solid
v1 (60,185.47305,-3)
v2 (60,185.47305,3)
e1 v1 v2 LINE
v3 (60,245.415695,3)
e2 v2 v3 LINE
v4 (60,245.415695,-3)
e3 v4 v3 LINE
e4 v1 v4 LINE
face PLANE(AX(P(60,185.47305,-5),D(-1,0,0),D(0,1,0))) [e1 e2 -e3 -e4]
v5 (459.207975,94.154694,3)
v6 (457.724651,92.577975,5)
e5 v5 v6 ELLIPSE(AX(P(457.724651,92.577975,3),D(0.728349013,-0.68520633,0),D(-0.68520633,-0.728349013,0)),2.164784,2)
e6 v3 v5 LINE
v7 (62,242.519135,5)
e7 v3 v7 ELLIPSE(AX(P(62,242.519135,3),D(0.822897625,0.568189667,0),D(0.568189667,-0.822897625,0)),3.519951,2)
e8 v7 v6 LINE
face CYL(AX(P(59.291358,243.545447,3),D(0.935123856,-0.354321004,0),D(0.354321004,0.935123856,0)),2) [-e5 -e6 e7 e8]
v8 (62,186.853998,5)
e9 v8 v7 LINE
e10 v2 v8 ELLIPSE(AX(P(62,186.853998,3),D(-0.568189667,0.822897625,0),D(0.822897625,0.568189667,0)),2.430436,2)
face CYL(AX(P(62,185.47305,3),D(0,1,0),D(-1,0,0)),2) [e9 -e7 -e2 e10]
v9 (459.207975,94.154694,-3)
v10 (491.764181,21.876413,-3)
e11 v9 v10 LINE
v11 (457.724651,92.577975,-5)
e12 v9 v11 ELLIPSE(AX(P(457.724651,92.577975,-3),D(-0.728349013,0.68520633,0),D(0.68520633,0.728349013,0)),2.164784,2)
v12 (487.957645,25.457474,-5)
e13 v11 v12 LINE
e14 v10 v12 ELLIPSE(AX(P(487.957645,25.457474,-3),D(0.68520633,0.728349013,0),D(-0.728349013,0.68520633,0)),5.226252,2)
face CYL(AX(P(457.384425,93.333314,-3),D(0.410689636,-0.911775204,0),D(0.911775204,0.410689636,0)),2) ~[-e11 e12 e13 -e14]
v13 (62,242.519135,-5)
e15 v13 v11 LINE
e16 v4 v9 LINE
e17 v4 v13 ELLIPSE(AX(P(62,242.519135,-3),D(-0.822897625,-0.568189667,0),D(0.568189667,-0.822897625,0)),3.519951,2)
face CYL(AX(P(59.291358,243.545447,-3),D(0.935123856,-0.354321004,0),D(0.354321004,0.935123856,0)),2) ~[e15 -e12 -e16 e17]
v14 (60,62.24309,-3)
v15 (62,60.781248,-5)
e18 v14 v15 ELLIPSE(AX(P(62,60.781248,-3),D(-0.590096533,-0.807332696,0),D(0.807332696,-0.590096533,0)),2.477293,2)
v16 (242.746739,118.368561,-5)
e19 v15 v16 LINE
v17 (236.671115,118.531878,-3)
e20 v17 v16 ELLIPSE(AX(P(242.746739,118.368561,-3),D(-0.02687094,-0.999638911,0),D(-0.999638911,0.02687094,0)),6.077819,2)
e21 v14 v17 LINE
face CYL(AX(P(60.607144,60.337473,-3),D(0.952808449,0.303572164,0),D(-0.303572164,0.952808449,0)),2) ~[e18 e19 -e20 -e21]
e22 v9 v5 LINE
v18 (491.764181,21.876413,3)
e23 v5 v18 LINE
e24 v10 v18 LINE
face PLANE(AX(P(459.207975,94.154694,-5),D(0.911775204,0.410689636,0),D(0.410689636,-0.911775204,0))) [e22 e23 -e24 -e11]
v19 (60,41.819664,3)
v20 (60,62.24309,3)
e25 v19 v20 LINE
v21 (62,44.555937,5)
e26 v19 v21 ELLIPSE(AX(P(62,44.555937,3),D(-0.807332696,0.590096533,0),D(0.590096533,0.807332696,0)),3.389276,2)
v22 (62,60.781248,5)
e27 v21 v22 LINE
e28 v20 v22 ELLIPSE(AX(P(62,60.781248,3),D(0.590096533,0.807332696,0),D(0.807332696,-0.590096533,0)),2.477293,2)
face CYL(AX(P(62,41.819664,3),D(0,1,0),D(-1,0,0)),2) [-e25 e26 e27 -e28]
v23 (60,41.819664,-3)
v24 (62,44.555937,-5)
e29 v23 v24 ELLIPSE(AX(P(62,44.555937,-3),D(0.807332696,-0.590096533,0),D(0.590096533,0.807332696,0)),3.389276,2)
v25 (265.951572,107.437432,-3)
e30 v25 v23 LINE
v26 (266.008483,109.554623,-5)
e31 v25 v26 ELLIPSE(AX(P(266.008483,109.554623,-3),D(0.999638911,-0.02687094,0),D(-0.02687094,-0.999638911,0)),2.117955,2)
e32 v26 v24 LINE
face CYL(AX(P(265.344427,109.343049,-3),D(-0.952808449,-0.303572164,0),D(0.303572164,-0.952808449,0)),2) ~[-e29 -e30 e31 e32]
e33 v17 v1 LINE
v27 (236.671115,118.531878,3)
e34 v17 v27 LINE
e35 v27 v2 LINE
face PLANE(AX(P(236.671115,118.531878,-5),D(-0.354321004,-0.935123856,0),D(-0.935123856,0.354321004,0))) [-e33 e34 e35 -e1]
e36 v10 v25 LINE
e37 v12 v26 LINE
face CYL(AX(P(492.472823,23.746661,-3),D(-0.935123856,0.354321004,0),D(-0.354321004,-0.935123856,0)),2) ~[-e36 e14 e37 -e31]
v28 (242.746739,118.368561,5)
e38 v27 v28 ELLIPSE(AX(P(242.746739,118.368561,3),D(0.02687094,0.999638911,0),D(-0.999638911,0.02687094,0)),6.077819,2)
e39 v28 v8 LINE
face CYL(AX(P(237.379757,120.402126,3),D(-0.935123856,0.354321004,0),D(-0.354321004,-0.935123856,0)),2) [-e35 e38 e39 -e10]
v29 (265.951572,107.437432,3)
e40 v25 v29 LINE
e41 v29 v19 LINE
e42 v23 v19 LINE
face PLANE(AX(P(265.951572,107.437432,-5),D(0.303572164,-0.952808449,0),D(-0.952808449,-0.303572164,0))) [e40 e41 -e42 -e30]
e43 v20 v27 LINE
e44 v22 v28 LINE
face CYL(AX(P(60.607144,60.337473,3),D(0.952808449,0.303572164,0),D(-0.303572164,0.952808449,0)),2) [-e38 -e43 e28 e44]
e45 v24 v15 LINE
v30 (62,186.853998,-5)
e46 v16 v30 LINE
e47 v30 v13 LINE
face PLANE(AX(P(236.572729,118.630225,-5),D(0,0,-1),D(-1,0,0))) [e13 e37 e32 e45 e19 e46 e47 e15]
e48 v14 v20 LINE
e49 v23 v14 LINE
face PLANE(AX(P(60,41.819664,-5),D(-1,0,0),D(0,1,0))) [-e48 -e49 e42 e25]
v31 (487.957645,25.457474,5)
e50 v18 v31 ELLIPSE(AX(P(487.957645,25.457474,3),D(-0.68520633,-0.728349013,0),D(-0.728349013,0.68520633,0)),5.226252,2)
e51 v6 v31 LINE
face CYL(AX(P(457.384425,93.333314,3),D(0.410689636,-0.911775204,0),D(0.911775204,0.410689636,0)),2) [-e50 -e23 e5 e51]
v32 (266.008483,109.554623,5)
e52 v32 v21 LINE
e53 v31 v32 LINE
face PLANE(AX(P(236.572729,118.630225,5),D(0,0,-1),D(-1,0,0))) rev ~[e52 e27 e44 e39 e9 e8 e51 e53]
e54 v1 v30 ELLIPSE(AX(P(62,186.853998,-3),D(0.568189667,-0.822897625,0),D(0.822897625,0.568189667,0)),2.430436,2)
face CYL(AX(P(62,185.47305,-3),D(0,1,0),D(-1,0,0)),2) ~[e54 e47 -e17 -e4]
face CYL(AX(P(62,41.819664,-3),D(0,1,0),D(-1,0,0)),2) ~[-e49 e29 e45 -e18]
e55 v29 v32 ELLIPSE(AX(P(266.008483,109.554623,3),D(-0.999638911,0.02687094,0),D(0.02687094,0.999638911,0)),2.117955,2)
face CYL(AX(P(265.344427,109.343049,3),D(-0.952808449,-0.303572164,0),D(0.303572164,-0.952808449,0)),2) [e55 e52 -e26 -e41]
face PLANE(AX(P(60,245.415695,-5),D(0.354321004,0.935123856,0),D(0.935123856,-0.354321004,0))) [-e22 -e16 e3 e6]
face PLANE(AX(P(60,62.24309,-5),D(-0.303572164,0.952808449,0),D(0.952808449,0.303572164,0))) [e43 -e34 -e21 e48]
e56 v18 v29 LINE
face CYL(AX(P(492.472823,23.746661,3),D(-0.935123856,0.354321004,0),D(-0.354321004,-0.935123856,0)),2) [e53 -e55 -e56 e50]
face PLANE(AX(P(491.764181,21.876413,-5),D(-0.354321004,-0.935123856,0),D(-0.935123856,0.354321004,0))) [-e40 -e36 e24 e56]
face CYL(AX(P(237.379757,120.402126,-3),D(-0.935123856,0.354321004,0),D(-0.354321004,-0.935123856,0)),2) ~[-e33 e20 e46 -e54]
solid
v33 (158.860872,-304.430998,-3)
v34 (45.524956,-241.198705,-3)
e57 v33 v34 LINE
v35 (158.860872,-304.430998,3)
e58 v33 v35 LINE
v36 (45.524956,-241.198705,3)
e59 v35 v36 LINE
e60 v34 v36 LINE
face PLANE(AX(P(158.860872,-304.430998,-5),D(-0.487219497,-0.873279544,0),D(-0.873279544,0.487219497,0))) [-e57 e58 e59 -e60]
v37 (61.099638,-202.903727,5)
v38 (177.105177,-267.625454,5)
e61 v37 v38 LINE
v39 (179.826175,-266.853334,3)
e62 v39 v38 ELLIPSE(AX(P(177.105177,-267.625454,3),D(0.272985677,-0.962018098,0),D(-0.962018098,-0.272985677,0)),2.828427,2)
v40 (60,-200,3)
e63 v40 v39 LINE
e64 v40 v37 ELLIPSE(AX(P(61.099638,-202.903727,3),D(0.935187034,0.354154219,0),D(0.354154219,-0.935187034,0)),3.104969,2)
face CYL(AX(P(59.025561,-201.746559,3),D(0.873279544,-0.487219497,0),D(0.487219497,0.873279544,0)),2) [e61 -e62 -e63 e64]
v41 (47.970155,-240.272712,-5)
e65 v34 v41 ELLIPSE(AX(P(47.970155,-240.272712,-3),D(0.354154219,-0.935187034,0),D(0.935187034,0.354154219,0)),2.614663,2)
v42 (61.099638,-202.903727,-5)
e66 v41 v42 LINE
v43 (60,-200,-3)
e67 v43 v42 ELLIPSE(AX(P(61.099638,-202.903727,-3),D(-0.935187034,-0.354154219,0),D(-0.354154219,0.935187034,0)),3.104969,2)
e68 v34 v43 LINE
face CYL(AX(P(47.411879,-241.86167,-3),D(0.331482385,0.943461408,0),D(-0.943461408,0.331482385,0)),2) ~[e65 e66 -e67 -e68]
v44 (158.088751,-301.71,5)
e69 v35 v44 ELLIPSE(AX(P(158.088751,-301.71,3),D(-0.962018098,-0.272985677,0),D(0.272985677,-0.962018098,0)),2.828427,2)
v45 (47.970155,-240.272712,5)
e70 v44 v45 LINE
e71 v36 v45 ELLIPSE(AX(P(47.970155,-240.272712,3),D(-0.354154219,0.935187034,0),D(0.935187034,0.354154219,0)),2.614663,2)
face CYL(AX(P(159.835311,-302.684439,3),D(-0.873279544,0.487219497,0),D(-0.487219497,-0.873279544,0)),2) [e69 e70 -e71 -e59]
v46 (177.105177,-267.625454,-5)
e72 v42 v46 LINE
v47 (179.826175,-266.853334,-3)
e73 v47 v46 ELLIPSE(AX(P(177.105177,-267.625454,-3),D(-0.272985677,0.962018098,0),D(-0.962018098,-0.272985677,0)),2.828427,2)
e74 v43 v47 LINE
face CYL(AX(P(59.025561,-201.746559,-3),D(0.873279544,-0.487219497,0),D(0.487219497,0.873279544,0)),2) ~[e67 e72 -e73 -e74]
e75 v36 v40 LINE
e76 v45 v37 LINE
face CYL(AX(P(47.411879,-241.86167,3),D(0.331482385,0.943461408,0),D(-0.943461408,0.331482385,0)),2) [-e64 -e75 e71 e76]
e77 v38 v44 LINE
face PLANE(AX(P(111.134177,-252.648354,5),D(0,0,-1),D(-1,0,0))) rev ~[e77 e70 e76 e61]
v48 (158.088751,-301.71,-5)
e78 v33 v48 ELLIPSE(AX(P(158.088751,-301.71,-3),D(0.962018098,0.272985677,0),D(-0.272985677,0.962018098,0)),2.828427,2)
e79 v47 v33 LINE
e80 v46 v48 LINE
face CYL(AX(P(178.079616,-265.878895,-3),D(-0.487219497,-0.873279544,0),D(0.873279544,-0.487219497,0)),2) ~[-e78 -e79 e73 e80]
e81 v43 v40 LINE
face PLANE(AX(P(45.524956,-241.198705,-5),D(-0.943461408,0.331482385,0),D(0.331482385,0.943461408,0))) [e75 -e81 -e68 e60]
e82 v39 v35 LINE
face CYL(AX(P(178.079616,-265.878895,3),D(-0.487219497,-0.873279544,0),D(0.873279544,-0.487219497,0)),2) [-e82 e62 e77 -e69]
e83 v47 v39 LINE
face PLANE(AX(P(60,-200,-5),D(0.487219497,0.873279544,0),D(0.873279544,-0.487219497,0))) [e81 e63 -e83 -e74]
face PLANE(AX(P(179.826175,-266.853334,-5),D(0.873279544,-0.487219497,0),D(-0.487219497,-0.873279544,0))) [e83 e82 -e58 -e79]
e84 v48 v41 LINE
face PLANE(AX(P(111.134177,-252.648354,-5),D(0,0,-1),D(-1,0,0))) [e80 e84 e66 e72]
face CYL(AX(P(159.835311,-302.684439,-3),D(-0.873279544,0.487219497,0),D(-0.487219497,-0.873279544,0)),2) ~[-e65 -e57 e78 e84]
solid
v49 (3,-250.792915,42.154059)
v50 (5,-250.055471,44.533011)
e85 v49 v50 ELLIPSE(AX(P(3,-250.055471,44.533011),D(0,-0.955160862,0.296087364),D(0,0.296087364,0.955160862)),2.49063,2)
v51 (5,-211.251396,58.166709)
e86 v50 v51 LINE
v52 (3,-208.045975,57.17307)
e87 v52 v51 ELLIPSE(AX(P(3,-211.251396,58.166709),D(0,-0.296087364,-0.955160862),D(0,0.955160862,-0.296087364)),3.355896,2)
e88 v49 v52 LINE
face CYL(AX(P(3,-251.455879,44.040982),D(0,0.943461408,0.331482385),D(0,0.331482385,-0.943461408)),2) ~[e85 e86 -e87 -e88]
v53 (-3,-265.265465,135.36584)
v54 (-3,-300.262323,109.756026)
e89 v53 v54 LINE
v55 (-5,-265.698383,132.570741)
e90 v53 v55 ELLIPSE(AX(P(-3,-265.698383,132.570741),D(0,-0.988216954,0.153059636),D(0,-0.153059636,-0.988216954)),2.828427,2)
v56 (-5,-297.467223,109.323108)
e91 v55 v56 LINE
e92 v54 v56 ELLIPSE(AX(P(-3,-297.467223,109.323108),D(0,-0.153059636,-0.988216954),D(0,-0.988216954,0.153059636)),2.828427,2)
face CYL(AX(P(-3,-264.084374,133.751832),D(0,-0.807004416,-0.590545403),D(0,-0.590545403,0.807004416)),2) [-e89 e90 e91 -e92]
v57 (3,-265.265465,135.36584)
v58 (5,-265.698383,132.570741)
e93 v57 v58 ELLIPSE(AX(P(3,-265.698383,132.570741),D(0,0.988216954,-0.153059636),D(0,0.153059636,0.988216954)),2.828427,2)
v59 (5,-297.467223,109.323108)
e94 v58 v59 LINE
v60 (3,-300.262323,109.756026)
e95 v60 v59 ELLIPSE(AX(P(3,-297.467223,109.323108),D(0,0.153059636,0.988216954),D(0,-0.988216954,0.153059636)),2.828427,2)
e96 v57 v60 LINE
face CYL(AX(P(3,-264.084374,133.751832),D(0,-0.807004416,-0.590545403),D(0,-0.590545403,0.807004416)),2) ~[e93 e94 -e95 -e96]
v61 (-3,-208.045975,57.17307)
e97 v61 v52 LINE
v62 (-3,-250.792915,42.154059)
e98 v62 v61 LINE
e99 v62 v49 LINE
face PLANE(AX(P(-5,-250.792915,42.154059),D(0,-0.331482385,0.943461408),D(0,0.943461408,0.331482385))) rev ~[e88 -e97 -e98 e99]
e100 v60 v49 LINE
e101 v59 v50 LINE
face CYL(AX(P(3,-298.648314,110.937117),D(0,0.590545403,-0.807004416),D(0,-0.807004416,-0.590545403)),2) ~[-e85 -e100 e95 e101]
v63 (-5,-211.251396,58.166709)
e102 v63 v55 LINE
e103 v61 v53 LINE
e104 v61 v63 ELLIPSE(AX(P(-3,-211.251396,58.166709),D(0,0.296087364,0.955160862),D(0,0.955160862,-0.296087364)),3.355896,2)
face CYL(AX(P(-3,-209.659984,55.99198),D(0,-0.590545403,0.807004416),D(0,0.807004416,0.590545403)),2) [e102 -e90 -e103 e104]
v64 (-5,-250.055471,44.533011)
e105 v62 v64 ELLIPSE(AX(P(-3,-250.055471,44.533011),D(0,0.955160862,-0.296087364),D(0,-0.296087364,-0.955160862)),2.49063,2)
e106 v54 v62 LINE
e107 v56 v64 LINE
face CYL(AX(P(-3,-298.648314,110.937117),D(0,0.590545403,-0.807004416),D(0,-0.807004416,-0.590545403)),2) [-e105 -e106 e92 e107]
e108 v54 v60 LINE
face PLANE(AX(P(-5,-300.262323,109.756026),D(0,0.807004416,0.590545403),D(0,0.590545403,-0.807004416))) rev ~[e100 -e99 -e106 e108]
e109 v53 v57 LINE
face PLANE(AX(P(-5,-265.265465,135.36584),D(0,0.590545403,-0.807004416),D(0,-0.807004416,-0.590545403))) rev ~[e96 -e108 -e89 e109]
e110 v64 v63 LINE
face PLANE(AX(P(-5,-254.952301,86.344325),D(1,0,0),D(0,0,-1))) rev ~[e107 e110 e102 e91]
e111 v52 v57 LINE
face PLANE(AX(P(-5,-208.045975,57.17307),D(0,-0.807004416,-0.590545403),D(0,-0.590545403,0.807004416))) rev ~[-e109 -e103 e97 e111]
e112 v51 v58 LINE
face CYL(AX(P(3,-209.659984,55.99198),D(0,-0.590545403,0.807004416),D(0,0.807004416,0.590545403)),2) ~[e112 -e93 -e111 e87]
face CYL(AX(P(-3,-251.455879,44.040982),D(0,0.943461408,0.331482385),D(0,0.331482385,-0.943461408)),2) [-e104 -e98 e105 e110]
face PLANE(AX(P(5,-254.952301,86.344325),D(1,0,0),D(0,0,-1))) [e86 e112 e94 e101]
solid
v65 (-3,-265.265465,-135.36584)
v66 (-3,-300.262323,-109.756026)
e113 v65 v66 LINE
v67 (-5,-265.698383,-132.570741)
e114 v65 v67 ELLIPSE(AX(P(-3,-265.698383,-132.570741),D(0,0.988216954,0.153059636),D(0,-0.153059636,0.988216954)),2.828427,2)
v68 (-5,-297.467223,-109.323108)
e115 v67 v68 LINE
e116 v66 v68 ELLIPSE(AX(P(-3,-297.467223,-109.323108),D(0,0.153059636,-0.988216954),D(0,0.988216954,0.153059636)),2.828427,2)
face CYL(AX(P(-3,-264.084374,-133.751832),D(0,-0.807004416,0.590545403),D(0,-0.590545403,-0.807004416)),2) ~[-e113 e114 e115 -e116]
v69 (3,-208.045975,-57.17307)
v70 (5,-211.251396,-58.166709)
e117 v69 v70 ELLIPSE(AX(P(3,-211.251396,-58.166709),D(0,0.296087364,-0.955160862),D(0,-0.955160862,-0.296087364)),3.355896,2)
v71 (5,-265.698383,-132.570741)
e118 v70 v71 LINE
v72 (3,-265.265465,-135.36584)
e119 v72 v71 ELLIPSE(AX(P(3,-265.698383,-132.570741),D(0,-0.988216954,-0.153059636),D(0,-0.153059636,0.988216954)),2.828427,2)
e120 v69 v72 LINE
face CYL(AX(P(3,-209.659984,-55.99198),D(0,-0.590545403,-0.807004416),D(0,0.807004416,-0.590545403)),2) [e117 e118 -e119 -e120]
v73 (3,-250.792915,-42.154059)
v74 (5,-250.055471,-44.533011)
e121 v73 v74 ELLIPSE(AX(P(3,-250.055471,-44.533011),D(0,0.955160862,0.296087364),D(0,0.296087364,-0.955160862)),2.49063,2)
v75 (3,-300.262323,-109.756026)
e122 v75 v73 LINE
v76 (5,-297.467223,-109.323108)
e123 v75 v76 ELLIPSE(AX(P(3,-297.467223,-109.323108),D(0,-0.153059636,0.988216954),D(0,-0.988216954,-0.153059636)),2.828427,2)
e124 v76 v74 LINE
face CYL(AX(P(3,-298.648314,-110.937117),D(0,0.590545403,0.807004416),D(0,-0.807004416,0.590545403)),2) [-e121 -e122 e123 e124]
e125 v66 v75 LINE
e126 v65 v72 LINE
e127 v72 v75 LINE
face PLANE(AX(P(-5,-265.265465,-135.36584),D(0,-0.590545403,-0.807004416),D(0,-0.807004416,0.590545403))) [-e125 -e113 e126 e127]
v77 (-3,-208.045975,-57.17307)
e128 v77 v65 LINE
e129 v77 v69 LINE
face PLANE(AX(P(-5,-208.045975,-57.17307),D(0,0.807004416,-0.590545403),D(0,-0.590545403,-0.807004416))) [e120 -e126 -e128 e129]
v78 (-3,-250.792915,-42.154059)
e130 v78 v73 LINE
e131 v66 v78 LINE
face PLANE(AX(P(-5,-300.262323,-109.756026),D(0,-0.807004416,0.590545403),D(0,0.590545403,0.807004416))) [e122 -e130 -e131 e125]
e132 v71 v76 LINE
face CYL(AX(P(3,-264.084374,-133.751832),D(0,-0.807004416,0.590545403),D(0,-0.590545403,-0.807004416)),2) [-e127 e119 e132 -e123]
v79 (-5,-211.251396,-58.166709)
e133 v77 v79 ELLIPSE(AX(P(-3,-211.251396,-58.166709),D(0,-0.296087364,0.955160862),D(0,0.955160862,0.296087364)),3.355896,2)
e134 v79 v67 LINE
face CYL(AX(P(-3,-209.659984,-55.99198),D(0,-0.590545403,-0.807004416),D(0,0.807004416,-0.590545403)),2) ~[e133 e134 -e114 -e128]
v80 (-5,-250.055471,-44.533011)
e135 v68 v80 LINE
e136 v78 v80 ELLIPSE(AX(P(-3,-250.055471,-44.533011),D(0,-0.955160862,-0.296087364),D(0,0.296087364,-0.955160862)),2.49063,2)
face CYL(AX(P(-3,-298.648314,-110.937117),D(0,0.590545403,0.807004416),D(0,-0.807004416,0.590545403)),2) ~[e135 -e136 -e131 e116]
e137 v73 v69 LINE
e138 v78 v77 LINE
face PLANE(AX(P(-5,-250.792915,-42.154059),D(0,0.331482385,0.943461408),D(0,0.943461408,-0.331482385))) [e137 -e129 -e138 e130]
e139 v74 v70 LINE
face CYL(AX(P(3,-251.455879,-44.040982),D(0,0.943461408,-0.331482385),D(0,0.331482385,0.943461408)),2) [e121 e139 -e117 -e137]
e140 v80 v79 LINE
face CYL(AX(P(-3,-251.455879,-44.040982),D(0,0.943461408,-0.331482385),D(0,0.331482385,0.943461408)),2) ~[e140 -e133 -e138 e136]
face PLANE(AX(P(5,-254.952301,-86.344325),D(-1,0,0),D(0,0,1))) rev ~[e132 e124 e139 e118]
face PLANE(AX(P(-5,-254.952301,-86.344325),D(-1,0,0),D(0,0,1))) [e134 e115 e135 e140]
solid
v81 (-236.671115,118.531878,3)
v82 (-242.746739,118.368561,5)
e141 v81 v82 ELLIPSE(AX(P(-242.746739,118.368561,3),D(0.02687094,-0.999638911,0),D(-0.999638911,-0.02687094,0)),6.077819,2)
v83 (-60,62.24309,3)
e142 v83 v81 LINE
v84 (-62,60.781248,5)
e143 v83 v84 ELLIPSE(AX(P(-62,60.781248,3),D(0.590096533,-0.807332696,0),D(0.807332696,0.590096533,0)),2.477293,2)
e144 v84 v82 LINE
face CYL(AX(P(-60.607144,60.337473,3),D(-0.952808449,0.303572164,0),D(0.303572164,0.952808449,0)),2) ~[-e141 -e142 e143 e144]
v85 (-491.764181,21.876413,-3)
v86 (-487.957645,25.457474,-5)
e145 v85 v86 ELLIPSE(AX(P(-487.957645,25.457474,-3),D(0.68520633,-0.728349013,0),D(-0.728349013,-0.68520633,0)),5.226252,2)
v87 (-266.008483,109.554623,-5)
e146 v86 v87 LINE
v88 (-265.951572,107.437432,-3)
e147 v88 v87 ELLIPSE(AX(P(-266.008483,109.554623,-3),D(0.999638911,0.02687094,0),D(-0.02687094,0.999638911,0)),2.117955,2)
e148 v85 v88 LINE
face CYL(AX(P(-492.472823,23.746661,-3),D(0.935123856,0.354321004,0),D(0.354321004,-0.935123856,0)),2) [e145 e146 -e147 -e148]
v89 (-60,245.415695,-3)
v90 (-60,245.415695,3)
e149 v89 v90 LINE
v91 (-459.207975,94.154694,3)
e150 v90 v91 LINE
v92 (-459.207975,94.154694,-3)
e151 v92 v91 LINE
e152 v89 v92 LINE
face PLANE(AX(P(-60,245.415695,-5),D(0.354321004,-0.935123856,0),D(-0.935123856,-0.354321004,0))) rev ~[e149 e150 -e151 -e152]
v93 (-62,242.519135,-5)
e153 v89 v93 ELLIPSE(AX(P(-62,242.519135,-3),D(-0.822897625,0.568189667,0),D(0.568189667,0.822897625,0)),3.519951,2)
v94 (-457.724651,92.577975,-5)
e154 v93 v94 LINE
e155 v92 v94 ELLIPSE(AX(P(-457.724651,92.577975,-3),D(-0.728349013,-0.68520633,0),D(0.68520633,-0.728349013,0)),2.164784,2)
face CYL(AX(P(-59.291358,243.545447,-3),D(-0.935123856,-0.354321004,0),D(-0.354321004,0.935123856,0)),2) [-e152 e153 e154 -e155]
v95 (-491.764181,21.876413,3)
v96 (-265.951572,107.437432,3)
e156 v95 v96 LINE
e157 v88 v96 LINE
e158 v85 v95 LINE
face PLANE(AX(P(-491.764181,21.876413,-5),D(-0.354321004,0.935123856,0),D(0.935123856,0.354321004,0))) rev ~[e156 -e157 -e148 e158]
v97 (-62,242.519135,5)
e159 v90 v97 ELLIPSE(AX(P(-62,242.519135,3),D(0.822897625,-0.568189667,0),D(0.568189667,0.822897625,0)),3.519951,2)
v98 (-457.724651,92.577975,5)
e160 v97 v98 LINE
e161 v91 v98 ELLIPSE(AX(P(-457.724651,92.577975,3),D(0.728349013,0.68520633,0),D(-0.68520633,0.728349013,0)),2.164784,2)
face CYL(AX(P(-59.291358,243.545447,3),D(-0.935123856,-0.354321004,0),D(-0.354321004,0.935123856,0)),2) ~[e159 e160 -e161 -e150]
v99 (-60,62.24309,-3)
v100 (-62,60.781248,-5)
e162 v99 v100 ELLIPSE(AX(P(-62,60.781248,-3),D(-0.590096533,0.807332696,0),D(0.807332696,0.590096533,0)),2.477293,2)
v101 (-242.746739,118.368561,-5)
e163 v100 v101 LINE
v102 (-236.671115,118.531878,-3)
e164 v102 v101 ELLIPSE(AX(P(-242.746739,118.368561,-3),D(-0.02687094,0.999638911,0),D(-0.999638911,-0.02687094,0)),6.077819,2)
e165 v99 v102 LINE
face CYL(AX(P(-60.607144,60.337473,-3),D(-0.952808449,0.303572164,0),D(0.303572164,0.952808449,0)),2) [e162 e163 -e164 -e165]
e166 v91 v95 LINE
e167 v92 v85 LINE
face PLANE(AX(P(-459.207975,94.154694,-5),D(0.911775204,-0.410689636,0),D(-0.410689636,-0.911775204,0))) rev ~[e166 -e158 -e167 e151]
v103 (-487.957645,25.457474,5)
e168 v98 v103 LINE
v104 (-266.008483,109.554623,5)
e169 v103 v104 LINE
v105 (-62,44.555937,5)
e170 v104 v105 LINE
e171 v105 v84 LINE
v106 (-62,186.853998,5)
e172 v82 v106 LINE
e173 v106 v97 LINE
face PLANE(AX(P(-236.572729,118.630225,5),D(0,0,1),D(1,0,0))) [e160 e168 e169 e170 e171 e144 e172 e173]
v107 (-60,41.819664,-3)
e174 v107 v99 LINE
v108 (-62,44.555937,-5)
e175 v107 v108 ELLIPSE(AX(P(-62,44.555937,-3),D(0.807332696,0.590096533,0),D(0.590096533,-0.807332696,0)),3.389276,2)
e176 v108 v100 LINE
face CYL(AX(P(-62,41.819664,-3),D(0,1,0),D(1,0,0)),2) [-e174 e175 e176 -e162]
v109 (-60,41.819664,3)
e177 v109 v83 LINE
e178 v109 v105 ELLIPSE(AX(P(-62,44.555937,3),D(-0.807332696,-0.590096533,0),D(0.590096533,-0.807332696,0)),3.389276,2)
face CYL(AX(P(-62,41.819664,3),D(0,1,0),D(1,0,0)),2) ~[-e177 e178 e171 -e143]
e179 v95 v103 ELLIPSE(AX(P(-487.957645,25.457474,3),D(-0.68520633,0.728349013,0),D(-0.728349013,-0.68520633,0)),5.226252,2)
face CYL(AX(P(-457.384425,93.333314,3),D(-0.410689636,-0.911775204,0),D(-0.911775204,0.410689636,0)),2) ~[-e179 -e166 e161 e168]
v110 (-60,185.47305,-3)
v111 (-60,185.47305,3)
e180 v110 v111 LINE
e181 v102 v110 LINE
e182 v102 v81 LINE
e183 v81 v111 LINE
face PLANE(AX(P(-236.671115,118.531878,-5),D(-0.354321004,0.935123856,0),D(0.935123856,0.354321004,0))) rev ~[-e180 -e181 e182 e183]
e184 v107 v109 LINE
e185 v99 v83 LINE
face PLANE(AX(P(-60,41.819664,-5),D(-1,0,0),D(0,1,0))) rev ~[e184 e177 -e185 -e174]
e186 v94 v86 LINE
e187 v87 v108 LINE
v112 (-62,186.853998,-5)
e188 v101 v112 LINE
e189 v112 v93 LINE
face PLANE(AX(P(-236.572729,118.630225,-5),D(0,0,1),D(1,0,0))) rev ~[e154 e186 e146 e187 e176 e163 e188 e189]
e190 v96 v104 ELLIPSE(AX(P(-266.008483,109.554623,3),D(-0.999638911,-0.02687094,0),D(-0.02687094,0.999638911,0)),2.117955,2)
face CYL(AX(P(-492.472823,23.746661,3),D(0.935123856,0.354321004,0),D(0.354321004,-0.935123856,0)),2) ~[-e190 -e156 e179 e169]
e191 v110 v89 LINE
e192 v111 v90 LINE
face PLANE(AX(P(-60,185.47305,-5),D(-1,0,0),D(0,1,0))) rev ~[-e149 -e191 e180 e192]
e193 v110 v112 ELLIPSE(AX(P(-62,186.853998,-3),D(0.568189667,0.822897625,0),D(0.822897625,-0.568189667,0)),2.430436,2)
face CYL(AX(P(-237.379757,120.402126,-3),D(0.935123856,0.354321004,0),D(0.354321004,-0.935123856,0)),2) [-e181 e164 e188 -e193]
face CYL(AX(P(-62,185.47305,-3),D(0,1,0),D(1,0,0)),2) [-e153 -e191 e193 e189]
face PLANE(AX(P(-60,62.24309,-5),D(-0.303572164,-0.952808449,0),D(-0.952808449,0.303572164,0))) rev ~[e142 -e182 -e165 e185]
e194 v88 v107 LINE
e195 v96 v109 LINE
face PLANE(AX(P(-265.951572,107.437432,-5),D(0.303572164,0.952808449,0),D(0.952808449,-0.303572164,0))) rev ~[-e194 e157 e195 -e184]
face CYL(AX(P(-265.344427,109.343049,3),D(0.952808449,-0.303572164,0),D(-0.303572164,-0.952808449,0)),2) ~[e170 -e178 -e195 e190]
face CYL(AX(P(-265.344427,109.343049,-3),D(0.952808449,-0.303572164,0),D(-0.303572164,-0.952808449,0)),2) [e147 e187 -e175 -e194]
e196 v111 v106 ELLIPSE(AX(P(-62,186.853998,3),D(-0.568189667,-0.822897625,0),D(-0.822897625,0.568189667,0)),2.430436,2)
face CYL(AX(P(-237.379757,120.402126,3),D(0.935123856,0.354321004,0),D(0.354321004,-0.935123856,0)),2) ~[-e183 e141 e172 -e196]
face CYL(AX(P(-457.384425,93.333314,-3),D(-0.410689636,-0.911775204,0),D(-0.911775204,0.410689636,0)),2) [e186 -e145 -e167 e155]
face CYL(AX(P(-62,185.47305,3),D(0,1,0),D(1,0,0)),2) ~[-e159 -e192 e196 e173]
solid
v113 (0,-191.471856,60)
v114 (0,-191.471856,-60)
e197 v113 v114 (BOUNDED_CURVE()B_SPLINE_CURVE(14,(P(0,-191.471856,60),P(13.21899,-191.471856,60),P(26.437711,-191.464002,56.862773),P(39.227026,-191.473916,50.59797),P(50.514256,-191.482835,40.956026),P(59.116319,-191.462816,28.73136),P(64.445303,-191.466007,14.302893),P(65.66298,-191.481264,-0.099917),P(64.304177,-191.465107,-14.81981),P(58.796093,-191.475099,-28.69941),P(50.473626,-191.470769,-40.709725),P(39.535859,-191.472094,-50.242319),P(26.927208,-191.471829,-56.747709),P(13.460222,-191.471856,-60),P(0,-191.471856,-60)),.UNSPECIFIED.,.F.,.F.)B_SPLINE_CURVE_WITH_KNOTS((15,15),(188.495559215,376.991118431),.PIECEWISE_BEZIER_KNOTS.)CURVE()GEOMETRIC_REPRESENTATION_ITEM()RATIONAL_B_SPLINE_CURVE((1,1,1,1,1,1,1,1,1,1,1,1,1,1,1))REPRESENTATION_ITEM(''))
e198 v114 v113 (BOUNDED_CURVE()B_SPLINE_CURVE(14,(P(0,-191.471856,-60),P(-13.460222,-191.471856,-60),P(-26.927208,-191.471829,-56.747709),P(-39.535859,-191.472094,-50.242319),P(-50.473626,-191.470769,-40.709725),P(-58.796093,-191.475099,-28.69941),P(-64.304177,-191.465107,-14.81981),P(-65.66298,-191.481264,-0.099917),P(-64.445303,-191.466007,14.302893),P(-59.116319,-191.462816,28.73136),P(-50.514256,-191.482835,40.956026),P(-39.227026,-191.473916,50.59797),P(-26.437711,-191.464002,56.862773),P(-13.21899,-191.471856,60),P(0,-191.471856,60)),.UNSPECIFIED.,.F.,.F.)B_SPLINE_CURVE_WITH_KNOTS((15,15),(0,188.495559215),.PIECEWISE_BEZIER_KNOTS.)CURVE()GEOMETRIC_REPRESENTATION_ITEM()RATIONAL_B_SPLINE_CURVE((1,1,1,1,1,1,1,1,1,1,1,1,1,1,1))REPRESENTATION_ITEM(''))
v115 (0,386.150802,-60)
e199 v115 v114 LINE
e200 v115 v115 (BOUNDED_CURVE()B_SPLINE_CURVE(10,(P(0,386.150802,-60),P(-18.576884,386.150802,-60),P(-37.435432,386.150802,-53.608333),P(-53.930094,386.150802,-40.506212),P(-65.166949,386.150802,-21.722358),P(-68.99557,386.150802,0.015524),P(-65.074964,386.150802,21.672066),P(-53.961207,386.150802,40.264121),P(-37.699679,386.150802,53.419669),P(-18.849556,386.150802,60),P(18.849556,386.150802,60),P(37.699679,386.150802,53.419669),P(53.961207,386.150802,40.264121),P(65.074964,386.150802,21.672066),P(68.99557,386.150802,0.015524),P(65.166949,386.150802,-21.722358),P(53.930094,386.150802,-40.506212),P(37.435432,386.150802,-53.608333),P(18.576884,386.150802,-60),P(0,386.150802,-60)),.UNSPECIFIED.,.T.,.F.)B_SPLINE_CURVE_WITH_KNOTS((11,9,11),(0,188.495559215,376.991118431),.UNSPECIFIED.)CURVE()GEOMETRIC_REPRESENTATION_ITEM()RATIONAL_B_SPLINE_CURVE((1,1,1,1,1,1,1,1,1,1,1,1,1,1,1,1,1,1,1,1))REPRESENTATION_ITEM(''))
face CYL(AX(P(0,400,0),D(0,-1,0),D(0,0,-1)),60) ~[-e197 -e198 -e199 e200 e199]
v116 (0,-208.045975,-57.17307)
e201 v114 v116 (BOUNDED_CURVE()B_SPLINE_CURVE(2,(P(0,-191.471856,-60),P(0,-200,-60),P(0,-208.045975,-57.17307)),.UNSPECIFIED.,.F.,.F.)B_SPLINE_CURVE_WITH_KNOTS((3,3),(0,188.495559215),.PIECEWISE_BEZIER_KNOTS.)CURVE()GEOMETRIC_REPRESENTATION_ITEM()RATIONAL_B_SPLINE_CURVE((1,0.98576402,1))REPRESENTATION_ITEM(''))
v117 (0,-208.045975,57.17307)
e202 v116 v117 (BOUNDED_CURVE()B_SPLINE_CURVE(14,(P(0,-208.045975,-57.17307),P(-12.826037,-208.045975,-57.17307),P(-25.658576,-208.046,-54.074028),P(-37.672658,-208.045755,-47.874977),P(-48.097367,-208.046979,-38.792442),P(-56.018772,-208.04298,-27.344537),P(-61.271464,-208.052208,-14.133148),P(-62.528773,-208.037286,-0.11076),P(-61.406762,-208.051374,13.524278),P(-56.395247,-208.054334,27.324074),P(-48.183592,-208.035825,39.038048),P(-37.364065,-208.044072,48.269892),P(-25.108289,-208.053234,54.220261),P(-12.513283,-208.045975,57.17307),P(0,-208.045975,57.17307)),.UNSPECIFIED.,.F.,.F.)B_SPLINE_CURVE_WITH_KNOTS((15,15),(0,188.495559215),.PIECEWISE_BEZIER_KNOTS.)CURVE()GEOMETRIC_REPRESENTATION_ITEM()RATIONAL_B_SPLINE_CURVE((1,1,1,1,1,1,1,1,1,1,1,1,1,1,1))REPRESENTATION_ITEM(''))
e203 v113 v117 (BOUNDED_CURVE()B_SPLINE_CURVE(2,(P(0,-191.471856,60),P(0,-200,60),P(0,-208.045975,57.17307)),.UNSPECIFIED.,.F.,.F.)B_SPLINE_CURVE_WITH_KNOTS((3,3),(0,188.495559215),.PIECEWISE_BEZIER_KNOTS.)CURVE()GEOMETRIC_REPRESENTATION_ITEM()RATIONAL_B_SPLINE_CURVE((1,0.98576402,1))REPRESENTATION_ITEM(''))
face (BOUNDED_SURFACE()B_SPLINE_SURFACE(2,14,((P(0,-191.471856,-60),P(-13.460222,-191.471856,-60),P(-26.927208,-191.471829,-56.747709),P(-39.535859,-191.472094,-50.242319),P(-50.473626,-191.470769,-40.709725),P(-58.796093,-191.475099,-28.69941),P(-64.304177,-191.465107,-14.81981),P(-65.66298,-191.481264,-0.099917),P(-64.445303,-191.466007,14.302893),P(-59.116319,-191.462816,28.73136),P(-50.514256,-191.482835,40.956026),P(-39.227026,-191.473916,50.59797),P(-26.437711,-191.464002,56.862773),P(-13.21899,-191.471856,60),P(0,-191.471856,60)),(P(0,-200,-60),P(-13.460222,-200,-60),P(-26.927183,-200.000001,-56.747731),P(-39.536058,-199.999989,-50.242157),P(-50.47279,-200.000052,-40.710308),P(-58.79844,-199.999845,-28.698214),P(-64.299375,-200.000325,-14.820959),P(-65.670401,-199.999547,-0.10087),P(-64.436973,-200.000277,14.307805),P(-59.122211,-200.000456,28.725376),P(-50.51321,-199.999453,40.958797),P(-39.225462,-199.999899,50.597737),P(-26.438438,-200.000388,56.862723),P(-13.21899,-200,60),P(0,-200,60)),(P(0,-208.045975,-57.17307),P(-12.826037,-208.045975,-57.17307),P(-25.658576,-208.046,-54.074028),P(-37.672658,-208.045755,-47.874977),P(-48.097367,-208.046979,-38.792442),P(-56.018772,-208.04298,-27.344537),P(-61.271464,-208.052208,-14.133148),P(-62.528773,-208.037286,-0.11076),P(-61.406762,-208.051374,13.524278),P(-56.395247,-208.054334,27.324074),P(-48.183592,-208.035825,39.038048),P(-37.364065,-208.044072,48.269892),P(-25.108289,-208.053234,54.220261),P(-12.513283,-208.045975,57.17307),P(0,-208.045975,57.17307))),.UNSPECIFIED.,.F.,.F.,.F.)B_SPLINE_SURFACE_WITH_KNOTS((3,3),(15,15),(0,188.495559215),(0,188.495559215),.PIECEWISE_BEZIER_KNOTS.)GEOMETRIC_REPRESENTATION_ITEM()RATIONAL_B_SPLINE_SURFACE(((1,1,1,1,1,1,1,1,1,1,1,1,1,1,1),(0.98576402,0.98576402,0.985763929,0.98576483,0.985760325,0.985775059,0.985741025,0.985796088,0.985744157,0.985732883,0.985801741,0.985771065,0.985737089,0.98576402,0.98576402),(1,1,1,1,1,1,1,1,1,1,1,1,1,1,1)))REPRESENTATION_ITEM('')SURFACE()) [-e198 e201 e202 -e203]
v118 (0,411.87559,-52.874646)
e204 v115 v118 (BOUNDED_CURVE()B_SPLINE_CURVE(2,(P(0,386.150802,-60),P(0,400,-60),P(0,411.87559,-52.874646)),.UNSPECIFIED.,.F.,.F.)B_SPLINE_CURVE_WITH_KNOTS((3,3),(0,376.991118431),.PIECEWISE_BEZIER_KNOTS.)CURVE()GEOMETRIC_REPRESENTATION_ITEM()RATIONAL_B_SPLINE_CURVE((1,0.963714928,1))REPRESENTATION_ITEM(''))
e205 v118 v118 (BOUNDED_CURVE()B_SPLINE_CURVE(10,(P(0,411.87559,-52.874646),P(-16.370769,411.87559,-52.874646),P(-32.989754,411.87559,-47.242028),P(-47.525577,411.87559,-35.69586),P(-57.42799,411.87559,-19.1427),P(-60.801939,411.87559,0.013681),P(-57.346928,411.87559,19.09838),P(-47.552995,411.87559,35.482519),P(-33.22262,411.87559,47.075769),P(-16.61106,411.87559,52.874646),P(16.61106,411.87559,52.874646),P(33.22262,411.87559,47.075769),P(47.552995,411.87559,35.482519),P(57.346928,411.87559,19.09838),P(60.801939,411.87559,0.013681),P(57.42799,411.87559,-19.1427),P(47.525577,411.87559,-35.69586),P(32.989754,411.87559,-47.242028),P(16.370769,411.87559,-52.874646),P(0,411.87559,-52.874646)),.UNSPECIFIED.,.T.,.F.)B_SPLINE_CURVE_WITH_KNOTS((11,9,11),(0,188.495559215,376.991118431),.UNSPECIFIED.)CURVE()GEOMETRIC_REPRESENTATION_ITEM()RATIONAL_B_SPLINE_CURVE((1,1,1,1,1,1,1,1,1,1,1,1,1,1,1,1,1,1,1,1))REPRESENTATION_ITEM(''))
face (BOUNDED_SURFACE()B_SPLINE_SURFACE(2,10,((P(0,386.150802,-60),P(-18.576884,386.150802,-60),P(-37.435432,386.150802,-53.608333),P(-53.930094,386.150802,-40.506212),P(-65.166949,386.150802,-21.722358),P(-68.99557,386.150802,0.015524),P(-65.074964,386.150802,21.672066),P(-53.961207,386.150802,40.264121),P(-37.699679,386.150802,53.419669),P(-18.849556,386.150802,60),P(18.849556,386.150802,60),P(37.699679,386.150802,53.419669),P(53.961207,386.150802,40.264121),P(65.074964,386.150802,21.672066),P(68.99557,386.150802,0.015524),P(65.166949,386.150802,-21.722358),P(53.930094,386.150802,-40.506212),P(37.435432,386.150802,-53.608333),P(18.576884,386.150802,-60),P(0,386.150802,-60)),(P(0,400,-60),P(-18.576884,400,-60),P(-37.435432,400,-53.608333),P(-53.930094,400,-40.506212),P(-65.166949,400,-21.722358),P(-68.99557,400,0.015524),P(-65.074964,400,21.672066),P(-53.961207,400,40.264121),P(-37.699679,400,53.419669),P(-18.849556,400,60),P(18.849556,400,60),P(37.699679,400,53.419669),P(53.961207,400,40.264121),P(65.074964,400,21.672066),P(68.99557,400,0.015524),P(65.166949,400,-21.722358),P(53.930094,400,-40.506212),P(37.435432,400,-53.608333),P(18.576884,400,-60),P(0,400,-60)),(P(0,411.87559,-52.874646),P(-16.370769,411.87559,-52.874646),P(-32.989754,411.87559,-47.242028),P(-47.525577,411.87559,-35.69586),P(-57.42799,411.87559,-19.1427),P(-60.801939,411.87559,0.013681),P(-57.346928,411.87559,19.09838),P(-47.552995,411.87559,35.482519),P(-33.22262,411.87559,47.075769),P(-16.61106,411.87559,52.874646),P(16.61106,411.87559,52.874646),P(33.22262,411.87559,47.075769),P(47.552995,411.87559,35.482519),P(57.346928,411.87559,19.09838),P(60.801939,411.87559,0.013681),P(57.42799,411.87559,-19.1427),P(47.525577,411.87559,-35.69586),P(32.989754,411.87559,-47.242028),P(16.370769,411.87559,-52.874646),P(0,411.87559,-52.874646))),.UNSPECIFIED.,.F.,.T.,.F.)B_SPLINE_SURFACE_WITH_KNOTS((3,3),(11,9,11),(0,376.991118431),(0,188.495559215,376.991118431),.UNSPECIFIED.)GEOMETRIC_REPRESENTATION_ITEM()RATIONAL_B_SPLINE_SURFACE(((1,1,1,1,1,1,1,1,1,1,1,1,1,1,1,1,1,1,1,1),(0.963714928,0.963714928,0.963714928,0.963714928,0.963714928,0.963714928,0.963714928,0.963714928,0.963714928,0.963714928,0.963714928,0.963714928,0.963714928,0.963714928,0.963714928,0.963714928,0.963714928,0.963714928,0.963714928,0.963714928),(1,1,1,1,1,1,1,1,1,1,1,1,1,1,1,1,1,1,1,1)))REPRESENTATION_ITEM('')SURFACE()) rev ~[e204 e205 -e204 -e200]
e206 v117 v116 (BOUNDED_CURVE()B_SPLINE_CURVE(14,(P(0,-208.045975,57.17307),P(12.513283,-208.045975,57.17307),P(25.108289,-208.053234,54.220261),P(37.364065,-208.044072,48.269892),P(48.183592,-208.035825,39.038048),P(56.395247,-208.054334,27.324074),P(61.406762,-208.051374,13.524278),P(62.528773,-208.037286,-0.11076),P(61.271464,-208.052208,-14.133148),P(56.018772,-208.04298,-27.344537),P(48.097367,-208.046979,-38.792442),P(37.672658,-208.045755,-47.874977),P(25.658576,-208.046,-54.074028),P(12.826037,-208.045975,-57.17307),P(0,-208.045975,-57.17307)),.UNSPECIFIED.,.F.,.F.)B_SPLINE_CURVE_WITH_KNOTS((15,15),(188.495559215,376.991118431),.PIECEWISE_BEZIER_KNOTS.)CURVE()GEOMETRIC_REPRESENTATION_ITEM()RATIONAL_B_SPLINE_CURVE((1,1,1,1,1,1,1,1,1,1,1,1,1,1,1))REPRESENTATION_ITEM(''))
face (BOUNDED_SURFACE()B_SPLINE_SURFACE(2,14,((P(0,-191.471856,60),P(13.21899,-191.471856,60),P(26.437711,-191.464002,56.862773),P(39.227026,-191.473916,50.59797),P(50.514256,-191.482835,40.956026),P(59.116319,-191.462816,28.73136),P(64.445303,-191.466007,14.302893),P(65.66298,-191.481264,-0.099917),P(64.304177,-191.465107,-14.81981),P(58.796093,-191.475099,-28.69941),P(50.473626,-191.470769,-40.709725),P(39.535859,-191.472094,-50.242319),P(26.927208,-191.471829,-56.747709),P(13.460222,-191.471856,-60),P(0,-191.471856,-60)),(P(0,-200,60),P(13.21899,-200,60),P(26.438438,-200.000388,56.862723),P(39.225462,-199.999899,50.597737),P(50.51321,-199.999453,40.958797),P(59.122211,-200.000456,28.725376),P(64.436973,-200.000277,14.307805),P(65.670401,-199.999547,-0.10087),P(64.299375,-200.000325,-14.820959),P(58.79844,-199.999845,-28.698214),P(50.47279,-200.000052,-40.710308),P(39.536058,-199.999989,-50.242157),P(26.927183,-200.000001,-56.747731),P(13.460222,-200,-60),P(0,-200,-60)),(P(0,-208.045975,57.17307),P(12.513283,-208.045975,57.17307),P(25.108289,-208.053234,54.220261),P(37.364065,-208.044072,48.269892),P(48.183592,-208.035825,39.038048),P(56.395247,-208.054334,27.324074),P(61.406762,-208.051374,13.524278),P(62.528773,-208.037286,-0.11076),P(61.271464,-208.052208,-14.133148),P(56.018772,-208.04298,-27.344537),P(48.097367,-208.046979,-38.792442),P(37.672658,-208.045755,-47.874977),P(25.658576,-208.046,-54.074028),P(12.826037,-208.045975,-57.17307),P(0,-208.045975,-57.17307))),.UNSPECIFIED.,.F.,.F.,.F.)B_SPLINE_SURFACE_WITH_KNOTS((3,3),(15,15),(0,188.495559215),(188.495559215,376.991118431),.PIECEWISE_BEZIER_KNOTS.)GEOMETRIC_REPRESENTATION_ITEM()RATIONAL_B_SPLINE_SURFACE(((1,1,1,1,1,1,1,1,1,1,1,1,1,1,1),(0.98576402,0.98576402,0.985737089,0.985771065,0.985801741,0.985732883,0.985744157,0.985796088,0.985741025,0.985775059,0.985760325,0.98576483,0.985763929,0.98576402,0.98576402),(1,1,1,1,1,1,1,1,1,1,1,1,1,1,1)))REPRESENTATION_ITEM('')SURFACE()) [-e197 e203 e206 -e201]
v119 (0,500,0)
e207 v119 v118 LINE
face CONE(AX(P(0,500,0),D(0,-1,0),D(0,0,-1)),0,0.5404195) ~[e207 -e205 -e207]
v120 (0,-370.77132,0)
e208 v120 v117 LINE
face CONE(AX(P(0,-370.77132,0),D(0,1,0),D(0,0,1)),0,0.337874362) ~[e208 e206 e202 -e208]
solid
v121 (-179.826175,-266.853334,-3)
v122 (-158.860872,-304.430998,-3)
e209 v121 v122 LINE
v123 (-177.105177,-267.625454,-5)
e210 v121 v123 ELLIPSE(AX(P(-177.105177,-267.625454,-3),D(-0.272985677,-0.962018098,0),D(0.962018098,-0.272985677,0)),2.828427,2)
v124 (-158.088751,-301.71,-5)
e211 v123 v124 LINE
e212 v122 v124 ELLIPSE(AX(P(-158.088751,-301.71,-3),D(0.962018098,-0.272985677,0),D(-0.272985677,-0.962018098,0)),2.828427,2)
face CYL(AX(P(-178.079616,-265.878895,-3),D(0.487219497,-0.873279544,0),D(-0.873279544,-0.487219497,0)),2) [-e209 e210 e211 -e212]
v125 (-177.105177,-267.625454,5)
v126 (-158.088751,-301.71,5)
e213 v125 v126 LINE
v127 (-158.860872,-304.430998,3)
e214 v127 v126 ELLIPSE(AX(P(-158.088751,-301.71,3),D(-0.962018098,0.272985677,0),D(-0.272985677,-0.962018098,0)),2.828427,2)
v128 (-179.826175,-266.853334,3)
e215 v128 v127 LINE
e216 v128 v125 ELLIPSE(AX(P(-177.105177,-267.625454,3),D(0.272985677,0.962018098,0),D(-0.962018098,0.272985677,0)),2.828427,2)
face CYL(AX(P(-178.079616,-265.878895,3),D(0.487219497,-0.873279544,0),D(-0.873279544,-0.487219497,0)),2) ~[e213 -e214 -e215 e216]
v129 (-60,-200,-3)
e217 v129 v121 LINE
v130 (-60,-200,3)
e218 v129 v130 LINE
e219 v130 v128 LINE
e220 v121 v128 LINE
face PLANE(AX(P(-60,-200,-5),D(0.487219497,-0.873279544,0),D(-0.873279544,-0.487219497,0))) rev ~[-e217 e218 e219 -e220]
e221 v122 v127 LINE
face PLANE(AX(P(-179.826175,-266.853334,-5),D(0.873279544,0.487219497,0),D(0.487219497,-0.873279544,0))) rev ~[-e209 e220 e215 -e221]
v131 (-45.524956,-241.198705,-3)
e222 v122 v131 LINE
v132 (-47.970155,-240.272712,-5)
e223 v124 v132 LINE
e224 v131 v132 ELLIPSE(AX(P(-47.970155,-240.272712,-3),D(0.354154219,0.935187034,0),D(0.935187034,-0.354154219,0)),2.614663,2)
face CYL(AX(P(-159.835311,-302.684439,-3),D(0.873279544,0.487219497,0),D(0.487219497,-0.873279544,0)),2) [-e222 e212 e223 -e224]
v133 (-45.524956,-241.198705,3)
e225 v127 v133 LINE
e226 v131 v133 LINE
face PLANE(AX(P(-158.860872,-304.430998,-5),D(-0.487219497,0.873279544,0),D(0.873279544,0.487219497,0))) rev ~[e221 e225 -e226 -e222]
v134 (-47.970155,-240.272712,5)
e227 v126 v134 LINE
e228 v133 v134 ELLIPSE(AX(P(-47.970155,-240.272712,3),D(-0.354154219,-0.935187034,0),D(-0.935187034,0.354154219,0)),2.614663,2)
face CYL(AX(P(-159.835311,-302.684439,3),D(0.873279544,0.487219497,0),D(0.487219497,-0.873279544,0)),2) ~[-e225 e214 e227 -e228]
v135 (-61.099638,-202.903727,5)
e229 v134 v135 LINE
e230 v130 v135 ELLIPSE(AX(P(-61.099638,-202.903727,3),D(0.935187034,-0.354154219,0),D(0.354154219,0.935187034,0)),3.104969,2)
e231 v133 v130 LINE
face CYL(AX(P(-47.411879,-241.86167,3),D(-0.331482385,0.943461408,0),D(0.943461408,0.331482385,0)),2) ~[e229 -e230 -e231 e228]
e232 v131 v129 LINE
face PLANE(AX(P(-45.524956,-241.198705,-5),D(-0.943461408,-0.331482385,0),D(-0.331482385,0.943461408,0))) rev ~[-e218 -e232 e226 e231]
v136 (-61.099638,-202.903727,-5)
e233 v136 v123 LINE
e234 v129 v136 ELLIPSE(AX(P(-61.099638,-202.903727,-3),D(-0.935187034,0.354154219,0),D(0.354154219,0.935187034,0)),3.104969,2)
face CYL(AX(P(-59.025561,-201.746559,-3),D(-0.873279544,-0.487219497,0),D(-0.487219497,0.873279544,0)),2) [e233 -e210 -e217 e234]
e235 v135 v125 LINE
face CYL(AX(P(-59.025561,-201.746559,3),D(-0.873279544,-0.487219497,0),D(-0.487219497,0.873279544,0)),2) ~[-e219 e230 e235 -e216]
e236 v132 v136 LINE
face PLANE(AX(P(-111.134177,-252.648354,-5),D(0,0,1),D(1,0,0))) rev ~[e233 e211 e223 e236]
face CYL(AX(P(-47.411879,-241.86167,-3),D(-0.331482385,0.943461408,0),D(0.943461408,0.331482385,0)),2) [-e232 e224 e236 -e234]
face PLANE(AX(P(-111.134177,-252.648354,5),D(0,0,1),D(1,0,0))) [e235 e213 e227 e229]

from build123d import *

# Parameters (mm, degrees)
EXTRUDE_1_DEPTH        = 5
EXTRUDE_1_DEPTH_BACK   = 5
EXTRUDE_1_2_DEPTH      = 5
EXTRUDE_1_2_DEPTH_BACK = 5
EXTRUDE_2_DEPTH        = 5
EXTRUDE_2_DEPTH_BACK   = 5
EXTRUDE_2_2_DEPTH      = 5
EXTRUDE_2_2_DEPTH_BACK = 5
FILLET_1_R             = 2
FILLET_2_R             = 2
FILLET_3_R             = 2
FILLET_4_R             = 2
FILLET_5_R             = 50
FILLET_6_R             = 50
EXTRUDE_3_DEPTH        = 5
EXTRUDE_3_DEPTH_BACK   = 5
EXTRUDE_3_2_DEPTH      = 5
EXTRUDE_3_2_DEPTH_BACK = 5
FILLET_7_R             = 2
FILLET_8_R             = 2


with BuildPart() as part:
    # 草图2 → 旋转1 (revolve)
    with BuildSketch(Plane.XY):
        Polygon((0, 0), (0, 500), (60, 400), (60, -200), (0, -200), align=None)
    revolve(axis=Axis((0, 0, 0), (0, 1, 0)))

    # 草图5 → 旋转2 (revolve)
    with BuildSketch(Plane.XY):
        Polygon((0, -200), (0, -370.771320176), (-60, -200), align=None)
    revolve(axis=Axis((0, -200, 0), (0, -1, 0)))

    # 圆角5
    fillet_5_edges = [part.edges().sort_by_distance(p)[0] for p in [
        (-60, 400, 0),
    ]]
    fillet(fillet_5_edges, radius=FILLET_5_R)

    # 圆角6
    fillet_6_edges = [part.edges().sort_by_distance(p)[0] for p in [
        (0, -200, -60),
    ]]
    fillet(fillet_6_edges, radius=FILLET_6_R)


with BuildPart() as body_2:
    # 草图3 → 凸台-拉伸1 (new, two sides: drawn at the far end of the back side and taken through both)
    with BuildSketch(Plane.XY.offset(-EXTRUDE_1_DEPTH_BACK)):
        Polygon((-60, 245.415694678), (-459.20797539, 94.15469375), (-491.764180738, 21.876413004), (-265.951571519, 107.437432317), (-60, 41.819663893), (-60, 62.243090179), (-236.671114858, 118.531877958), (-60, 185.473049767), align=None)
    extrude(amount=EXTRUDE_1_DEPTH + EXTRUDE_1_DEPTH_BACK)

    # 圆角1
    fillet_1_edges = [body_2.edges().sort_by_distance(p)[0] for p in [
        (-148.335557429, 152.002463863, 5),
        (-148.335557429, 90.387484068, 5),
        (-60, 52.031377036, 5),
        (-162.97578576, 74.628548105, 5),
        (-378.857876129, 64.65692266, 5),
        (-475.486078064, 58.015553377, 5),
        (-259.603987695, 169.785194214, 5),
        (-60, 215.444372223, 5),
        (-259.603987695, 169.785194214, -5),
        (-475.486078064, 58.015553377, -5),
        (-378.857876129, 64.65692266, -5),
        (-162.97578576, 74.628548105, -5),
        (-60, 52.031377036, -5),
        (-148.335557429, 90.387484068, -5),
        (-148.335557429, 152.002463863, -5),
        (-60, 215.444372223, -5),
    ]]
    fillet(fillet_1_edges, radius=FILLET_1_R)


with BuildPart() as body_3:
    # 草图3 → Extrude 1 2 (new, two sides: drawn at the far end of the back side and taken through both)
    with BuildSketch(Plane.XY.offset(-EXTRUDE_1_2_DEPTH_BACK)):
        Polygon((265.951571519, 107.437432317), (60, 41.819663893), (60, 62.243090179), (236.671114858, 118.531877958), (60, 185.473049767), (60, 245.415694678), (459.20797539, 94.15469375), (491.764180738, 21.876413004), align=None)
    extrude(amount=EXTRUDE_1_2_DEPTH + EXTRUDE_1_2_DEPTH_BACK)

    # 圆角2
    fillet_2_edges = [body_3.edges().sort_by_distance(p)[0] for p in [
        (475.486078064, 58.015553377, -5),
        (259.603987695, 169.785194214, -5),
        (60, 215.444372223, -5),
        (148.335557429, 152.002463863, -5),
        (148.335557429, 90.387484068, -5),
        (60, 52.031377036, -5),
        (162.97578576, 74.628548105, -5),
        (378.857876129, 64.65692266, -5),
        (162.97578576, 74.628548105, 5),
        (60, 52.031377036, 5),
        (148.335557429, 90.387484068, 5),
        (148.335557429, 152.002463863, 5),
        (60, 215.444372223, 5),
        (259.603987695, 169.785194214, 5),
        (475.486078064, 58.015553377, 5),
        (378.857876129, 64.65692266, 5),
    ]]
    fillet(fillet_2_edges, radius=FILLET_2_R)


with BuildPart() as body_4:
    # 草图6 → 凸台-拉伸2 (new, two sides: drawn at the far end of the back side and taken through both)
    with BuildSketch(Plane.XY.offset(-EXTRUDE_2_DEPTH_BACK)):
        Polygon((-60, -200), (-179.826175062, -266.853333767), (-158.860871533, -304.430998026), (-45.524956299, -241.198705374), align=None)
    extrude(amount=EXTRUDE_2_DEPTH + EXTRUDE_2_DEPTH_BACK)

    # 圆角4
    fillet_4_edges = [body_4.edges().sort_by_distance(p)[0] for p in [
        (-119.913087531, -233.426666884, -5),
        (-169.343523297, -285.642165897, -5),
        (-102.192913916, -272.8148517, -5),
        (-52.76247815, -220.599352687, -5),
        (-102.192913916, -272.8148517, 5),
        (-169.343523297, -285.642165897, 5),
        (-119.913087531, -233.426666884, 5),
        (-52.76247815, -220.599352687, 5),
    ]]
    fillet(fillet_4_edges, radius=FILLET_4_R)


with BuildPart() as body_5:
    # 草图6 → Extrude 2 2 (new, two sides: drawn at the far end of the back side and taken through both)
    with BuildSketch(Plane.XY.offset(-EXTRUDE_2_2_DEPTH_BACK)):
        Polygon((158.860871533, -304.430998026), (45.524956299, -241.198705374), (60, -200), (179.826175062, -266.853333767), align=None)
    extrude(amount=EXTRUDE_2_2_DEPTH + EXTRUDE_2_2_DEPTH_BACK)

    # 圆角3
    fillet_3_edges = [body_5.edges().sort_by_distance(p)[0] for p in [
        (102.192913916, -272.8148517, 5),
        (52.76247815, -220.599352687, 5),
        (119.913087531, -233.426666884, 5),
        (169.343523297, -285.642165897, 5),
        (119.913087531, -233.426666884, -5),
        (52.76247815, -220.599352687, -5),
        (102.192913916, -272.8148517, -5),
        (169.343523297, -285.642165897, -5),
    ]]
    fillet(fillet_3_edges, radius=FILLET_3_R)


with BuildPart() as body_6:
    # 草图7 → 凸台-拉伸3 (new, two sides: drawn at the far end of the back side and taken through both)
    with BuildSketch(Plane(origin=(0, 0, 0), x_dir=(0, 0, -1), z_dir=(1, 0, 0)).offset(-EXTRUDE_3_DEPTH_BACK)):
        Polygon((-57.173070403, -208.045974988), (-135.365840389, -265.265464672), (-109.756025707, -300.262322558), (-42.154059128, -250.792914709), align=None)
    extrude(amount=EXTRUDE_3_DEPTH + EXTRUDE_3_DEPTH_BACK)

    # 圆角7
    fillet_7_edges = [body_6.edges().sort_by_distance(p)[0] for p in [
        (5, -275.527618634, 75.955042417),
        (5, -282.763893615, 122.560933048),
        (5, -236.65571983, 96.269455396),
        (5, -229.419444849, 49.663564765),
        (-5, -236.65571983, 96.269455396),
        (-5, -282.763893615, 122.560933048),
        (-5, -275.527618634, 75.955042417),
        (-5, -229.419444849, 49.663564765),
    ]]
    fillet(fillet_7_edges, radius=FILLET_7_R)


with BuildPart() as body_7:
    # 草图7 → Extrude 3 2 (new, two sides: drawn at the far end of the back side and taken through both)
    with BuildSketch(Plane(origin=(0, 0, 0), x_dir=(0, 0, -1), z_dir=(1, 0, 0)).offset(-EXTRUDE_3_2_DEPTH_BACK)):
        Polygon((109.756025707, -300.262322558), (42.154059128, -250.792914709), (57.173070403, -208.045974988), (135.365840389, -265.265464672), align=None)
    extrude(amount=EXTRUDE_3_2_DEPTH + EXTRUDE_3_2_DEPTH_BACK)

    # 圆角8
    fillet_8_edges = [body_7.edges().sort_by_distance(p)[0] for p in [
        (-5, -236.65571983, -96.269455396),
        (-5, -229.419444849, -49.663564765),
        (-5, -275.527618634, -75.955042417),
        (-5, -282.763893615, -122.560933048),
        (5, -275.527618634, -75.955042417),
        (5, -229.419444849, -49.663564765),
        (5, -236.65571983, -96.269455396),
        (5, -282.763893615, -122.560933048),
    ]]
    fillet(fillet_8_edges, radius=FILLET_8_R)


solid = Compound([part.part, body_2.part, body_3.part, body_4.part, body_5.part, body_6.part, body_7.part])
